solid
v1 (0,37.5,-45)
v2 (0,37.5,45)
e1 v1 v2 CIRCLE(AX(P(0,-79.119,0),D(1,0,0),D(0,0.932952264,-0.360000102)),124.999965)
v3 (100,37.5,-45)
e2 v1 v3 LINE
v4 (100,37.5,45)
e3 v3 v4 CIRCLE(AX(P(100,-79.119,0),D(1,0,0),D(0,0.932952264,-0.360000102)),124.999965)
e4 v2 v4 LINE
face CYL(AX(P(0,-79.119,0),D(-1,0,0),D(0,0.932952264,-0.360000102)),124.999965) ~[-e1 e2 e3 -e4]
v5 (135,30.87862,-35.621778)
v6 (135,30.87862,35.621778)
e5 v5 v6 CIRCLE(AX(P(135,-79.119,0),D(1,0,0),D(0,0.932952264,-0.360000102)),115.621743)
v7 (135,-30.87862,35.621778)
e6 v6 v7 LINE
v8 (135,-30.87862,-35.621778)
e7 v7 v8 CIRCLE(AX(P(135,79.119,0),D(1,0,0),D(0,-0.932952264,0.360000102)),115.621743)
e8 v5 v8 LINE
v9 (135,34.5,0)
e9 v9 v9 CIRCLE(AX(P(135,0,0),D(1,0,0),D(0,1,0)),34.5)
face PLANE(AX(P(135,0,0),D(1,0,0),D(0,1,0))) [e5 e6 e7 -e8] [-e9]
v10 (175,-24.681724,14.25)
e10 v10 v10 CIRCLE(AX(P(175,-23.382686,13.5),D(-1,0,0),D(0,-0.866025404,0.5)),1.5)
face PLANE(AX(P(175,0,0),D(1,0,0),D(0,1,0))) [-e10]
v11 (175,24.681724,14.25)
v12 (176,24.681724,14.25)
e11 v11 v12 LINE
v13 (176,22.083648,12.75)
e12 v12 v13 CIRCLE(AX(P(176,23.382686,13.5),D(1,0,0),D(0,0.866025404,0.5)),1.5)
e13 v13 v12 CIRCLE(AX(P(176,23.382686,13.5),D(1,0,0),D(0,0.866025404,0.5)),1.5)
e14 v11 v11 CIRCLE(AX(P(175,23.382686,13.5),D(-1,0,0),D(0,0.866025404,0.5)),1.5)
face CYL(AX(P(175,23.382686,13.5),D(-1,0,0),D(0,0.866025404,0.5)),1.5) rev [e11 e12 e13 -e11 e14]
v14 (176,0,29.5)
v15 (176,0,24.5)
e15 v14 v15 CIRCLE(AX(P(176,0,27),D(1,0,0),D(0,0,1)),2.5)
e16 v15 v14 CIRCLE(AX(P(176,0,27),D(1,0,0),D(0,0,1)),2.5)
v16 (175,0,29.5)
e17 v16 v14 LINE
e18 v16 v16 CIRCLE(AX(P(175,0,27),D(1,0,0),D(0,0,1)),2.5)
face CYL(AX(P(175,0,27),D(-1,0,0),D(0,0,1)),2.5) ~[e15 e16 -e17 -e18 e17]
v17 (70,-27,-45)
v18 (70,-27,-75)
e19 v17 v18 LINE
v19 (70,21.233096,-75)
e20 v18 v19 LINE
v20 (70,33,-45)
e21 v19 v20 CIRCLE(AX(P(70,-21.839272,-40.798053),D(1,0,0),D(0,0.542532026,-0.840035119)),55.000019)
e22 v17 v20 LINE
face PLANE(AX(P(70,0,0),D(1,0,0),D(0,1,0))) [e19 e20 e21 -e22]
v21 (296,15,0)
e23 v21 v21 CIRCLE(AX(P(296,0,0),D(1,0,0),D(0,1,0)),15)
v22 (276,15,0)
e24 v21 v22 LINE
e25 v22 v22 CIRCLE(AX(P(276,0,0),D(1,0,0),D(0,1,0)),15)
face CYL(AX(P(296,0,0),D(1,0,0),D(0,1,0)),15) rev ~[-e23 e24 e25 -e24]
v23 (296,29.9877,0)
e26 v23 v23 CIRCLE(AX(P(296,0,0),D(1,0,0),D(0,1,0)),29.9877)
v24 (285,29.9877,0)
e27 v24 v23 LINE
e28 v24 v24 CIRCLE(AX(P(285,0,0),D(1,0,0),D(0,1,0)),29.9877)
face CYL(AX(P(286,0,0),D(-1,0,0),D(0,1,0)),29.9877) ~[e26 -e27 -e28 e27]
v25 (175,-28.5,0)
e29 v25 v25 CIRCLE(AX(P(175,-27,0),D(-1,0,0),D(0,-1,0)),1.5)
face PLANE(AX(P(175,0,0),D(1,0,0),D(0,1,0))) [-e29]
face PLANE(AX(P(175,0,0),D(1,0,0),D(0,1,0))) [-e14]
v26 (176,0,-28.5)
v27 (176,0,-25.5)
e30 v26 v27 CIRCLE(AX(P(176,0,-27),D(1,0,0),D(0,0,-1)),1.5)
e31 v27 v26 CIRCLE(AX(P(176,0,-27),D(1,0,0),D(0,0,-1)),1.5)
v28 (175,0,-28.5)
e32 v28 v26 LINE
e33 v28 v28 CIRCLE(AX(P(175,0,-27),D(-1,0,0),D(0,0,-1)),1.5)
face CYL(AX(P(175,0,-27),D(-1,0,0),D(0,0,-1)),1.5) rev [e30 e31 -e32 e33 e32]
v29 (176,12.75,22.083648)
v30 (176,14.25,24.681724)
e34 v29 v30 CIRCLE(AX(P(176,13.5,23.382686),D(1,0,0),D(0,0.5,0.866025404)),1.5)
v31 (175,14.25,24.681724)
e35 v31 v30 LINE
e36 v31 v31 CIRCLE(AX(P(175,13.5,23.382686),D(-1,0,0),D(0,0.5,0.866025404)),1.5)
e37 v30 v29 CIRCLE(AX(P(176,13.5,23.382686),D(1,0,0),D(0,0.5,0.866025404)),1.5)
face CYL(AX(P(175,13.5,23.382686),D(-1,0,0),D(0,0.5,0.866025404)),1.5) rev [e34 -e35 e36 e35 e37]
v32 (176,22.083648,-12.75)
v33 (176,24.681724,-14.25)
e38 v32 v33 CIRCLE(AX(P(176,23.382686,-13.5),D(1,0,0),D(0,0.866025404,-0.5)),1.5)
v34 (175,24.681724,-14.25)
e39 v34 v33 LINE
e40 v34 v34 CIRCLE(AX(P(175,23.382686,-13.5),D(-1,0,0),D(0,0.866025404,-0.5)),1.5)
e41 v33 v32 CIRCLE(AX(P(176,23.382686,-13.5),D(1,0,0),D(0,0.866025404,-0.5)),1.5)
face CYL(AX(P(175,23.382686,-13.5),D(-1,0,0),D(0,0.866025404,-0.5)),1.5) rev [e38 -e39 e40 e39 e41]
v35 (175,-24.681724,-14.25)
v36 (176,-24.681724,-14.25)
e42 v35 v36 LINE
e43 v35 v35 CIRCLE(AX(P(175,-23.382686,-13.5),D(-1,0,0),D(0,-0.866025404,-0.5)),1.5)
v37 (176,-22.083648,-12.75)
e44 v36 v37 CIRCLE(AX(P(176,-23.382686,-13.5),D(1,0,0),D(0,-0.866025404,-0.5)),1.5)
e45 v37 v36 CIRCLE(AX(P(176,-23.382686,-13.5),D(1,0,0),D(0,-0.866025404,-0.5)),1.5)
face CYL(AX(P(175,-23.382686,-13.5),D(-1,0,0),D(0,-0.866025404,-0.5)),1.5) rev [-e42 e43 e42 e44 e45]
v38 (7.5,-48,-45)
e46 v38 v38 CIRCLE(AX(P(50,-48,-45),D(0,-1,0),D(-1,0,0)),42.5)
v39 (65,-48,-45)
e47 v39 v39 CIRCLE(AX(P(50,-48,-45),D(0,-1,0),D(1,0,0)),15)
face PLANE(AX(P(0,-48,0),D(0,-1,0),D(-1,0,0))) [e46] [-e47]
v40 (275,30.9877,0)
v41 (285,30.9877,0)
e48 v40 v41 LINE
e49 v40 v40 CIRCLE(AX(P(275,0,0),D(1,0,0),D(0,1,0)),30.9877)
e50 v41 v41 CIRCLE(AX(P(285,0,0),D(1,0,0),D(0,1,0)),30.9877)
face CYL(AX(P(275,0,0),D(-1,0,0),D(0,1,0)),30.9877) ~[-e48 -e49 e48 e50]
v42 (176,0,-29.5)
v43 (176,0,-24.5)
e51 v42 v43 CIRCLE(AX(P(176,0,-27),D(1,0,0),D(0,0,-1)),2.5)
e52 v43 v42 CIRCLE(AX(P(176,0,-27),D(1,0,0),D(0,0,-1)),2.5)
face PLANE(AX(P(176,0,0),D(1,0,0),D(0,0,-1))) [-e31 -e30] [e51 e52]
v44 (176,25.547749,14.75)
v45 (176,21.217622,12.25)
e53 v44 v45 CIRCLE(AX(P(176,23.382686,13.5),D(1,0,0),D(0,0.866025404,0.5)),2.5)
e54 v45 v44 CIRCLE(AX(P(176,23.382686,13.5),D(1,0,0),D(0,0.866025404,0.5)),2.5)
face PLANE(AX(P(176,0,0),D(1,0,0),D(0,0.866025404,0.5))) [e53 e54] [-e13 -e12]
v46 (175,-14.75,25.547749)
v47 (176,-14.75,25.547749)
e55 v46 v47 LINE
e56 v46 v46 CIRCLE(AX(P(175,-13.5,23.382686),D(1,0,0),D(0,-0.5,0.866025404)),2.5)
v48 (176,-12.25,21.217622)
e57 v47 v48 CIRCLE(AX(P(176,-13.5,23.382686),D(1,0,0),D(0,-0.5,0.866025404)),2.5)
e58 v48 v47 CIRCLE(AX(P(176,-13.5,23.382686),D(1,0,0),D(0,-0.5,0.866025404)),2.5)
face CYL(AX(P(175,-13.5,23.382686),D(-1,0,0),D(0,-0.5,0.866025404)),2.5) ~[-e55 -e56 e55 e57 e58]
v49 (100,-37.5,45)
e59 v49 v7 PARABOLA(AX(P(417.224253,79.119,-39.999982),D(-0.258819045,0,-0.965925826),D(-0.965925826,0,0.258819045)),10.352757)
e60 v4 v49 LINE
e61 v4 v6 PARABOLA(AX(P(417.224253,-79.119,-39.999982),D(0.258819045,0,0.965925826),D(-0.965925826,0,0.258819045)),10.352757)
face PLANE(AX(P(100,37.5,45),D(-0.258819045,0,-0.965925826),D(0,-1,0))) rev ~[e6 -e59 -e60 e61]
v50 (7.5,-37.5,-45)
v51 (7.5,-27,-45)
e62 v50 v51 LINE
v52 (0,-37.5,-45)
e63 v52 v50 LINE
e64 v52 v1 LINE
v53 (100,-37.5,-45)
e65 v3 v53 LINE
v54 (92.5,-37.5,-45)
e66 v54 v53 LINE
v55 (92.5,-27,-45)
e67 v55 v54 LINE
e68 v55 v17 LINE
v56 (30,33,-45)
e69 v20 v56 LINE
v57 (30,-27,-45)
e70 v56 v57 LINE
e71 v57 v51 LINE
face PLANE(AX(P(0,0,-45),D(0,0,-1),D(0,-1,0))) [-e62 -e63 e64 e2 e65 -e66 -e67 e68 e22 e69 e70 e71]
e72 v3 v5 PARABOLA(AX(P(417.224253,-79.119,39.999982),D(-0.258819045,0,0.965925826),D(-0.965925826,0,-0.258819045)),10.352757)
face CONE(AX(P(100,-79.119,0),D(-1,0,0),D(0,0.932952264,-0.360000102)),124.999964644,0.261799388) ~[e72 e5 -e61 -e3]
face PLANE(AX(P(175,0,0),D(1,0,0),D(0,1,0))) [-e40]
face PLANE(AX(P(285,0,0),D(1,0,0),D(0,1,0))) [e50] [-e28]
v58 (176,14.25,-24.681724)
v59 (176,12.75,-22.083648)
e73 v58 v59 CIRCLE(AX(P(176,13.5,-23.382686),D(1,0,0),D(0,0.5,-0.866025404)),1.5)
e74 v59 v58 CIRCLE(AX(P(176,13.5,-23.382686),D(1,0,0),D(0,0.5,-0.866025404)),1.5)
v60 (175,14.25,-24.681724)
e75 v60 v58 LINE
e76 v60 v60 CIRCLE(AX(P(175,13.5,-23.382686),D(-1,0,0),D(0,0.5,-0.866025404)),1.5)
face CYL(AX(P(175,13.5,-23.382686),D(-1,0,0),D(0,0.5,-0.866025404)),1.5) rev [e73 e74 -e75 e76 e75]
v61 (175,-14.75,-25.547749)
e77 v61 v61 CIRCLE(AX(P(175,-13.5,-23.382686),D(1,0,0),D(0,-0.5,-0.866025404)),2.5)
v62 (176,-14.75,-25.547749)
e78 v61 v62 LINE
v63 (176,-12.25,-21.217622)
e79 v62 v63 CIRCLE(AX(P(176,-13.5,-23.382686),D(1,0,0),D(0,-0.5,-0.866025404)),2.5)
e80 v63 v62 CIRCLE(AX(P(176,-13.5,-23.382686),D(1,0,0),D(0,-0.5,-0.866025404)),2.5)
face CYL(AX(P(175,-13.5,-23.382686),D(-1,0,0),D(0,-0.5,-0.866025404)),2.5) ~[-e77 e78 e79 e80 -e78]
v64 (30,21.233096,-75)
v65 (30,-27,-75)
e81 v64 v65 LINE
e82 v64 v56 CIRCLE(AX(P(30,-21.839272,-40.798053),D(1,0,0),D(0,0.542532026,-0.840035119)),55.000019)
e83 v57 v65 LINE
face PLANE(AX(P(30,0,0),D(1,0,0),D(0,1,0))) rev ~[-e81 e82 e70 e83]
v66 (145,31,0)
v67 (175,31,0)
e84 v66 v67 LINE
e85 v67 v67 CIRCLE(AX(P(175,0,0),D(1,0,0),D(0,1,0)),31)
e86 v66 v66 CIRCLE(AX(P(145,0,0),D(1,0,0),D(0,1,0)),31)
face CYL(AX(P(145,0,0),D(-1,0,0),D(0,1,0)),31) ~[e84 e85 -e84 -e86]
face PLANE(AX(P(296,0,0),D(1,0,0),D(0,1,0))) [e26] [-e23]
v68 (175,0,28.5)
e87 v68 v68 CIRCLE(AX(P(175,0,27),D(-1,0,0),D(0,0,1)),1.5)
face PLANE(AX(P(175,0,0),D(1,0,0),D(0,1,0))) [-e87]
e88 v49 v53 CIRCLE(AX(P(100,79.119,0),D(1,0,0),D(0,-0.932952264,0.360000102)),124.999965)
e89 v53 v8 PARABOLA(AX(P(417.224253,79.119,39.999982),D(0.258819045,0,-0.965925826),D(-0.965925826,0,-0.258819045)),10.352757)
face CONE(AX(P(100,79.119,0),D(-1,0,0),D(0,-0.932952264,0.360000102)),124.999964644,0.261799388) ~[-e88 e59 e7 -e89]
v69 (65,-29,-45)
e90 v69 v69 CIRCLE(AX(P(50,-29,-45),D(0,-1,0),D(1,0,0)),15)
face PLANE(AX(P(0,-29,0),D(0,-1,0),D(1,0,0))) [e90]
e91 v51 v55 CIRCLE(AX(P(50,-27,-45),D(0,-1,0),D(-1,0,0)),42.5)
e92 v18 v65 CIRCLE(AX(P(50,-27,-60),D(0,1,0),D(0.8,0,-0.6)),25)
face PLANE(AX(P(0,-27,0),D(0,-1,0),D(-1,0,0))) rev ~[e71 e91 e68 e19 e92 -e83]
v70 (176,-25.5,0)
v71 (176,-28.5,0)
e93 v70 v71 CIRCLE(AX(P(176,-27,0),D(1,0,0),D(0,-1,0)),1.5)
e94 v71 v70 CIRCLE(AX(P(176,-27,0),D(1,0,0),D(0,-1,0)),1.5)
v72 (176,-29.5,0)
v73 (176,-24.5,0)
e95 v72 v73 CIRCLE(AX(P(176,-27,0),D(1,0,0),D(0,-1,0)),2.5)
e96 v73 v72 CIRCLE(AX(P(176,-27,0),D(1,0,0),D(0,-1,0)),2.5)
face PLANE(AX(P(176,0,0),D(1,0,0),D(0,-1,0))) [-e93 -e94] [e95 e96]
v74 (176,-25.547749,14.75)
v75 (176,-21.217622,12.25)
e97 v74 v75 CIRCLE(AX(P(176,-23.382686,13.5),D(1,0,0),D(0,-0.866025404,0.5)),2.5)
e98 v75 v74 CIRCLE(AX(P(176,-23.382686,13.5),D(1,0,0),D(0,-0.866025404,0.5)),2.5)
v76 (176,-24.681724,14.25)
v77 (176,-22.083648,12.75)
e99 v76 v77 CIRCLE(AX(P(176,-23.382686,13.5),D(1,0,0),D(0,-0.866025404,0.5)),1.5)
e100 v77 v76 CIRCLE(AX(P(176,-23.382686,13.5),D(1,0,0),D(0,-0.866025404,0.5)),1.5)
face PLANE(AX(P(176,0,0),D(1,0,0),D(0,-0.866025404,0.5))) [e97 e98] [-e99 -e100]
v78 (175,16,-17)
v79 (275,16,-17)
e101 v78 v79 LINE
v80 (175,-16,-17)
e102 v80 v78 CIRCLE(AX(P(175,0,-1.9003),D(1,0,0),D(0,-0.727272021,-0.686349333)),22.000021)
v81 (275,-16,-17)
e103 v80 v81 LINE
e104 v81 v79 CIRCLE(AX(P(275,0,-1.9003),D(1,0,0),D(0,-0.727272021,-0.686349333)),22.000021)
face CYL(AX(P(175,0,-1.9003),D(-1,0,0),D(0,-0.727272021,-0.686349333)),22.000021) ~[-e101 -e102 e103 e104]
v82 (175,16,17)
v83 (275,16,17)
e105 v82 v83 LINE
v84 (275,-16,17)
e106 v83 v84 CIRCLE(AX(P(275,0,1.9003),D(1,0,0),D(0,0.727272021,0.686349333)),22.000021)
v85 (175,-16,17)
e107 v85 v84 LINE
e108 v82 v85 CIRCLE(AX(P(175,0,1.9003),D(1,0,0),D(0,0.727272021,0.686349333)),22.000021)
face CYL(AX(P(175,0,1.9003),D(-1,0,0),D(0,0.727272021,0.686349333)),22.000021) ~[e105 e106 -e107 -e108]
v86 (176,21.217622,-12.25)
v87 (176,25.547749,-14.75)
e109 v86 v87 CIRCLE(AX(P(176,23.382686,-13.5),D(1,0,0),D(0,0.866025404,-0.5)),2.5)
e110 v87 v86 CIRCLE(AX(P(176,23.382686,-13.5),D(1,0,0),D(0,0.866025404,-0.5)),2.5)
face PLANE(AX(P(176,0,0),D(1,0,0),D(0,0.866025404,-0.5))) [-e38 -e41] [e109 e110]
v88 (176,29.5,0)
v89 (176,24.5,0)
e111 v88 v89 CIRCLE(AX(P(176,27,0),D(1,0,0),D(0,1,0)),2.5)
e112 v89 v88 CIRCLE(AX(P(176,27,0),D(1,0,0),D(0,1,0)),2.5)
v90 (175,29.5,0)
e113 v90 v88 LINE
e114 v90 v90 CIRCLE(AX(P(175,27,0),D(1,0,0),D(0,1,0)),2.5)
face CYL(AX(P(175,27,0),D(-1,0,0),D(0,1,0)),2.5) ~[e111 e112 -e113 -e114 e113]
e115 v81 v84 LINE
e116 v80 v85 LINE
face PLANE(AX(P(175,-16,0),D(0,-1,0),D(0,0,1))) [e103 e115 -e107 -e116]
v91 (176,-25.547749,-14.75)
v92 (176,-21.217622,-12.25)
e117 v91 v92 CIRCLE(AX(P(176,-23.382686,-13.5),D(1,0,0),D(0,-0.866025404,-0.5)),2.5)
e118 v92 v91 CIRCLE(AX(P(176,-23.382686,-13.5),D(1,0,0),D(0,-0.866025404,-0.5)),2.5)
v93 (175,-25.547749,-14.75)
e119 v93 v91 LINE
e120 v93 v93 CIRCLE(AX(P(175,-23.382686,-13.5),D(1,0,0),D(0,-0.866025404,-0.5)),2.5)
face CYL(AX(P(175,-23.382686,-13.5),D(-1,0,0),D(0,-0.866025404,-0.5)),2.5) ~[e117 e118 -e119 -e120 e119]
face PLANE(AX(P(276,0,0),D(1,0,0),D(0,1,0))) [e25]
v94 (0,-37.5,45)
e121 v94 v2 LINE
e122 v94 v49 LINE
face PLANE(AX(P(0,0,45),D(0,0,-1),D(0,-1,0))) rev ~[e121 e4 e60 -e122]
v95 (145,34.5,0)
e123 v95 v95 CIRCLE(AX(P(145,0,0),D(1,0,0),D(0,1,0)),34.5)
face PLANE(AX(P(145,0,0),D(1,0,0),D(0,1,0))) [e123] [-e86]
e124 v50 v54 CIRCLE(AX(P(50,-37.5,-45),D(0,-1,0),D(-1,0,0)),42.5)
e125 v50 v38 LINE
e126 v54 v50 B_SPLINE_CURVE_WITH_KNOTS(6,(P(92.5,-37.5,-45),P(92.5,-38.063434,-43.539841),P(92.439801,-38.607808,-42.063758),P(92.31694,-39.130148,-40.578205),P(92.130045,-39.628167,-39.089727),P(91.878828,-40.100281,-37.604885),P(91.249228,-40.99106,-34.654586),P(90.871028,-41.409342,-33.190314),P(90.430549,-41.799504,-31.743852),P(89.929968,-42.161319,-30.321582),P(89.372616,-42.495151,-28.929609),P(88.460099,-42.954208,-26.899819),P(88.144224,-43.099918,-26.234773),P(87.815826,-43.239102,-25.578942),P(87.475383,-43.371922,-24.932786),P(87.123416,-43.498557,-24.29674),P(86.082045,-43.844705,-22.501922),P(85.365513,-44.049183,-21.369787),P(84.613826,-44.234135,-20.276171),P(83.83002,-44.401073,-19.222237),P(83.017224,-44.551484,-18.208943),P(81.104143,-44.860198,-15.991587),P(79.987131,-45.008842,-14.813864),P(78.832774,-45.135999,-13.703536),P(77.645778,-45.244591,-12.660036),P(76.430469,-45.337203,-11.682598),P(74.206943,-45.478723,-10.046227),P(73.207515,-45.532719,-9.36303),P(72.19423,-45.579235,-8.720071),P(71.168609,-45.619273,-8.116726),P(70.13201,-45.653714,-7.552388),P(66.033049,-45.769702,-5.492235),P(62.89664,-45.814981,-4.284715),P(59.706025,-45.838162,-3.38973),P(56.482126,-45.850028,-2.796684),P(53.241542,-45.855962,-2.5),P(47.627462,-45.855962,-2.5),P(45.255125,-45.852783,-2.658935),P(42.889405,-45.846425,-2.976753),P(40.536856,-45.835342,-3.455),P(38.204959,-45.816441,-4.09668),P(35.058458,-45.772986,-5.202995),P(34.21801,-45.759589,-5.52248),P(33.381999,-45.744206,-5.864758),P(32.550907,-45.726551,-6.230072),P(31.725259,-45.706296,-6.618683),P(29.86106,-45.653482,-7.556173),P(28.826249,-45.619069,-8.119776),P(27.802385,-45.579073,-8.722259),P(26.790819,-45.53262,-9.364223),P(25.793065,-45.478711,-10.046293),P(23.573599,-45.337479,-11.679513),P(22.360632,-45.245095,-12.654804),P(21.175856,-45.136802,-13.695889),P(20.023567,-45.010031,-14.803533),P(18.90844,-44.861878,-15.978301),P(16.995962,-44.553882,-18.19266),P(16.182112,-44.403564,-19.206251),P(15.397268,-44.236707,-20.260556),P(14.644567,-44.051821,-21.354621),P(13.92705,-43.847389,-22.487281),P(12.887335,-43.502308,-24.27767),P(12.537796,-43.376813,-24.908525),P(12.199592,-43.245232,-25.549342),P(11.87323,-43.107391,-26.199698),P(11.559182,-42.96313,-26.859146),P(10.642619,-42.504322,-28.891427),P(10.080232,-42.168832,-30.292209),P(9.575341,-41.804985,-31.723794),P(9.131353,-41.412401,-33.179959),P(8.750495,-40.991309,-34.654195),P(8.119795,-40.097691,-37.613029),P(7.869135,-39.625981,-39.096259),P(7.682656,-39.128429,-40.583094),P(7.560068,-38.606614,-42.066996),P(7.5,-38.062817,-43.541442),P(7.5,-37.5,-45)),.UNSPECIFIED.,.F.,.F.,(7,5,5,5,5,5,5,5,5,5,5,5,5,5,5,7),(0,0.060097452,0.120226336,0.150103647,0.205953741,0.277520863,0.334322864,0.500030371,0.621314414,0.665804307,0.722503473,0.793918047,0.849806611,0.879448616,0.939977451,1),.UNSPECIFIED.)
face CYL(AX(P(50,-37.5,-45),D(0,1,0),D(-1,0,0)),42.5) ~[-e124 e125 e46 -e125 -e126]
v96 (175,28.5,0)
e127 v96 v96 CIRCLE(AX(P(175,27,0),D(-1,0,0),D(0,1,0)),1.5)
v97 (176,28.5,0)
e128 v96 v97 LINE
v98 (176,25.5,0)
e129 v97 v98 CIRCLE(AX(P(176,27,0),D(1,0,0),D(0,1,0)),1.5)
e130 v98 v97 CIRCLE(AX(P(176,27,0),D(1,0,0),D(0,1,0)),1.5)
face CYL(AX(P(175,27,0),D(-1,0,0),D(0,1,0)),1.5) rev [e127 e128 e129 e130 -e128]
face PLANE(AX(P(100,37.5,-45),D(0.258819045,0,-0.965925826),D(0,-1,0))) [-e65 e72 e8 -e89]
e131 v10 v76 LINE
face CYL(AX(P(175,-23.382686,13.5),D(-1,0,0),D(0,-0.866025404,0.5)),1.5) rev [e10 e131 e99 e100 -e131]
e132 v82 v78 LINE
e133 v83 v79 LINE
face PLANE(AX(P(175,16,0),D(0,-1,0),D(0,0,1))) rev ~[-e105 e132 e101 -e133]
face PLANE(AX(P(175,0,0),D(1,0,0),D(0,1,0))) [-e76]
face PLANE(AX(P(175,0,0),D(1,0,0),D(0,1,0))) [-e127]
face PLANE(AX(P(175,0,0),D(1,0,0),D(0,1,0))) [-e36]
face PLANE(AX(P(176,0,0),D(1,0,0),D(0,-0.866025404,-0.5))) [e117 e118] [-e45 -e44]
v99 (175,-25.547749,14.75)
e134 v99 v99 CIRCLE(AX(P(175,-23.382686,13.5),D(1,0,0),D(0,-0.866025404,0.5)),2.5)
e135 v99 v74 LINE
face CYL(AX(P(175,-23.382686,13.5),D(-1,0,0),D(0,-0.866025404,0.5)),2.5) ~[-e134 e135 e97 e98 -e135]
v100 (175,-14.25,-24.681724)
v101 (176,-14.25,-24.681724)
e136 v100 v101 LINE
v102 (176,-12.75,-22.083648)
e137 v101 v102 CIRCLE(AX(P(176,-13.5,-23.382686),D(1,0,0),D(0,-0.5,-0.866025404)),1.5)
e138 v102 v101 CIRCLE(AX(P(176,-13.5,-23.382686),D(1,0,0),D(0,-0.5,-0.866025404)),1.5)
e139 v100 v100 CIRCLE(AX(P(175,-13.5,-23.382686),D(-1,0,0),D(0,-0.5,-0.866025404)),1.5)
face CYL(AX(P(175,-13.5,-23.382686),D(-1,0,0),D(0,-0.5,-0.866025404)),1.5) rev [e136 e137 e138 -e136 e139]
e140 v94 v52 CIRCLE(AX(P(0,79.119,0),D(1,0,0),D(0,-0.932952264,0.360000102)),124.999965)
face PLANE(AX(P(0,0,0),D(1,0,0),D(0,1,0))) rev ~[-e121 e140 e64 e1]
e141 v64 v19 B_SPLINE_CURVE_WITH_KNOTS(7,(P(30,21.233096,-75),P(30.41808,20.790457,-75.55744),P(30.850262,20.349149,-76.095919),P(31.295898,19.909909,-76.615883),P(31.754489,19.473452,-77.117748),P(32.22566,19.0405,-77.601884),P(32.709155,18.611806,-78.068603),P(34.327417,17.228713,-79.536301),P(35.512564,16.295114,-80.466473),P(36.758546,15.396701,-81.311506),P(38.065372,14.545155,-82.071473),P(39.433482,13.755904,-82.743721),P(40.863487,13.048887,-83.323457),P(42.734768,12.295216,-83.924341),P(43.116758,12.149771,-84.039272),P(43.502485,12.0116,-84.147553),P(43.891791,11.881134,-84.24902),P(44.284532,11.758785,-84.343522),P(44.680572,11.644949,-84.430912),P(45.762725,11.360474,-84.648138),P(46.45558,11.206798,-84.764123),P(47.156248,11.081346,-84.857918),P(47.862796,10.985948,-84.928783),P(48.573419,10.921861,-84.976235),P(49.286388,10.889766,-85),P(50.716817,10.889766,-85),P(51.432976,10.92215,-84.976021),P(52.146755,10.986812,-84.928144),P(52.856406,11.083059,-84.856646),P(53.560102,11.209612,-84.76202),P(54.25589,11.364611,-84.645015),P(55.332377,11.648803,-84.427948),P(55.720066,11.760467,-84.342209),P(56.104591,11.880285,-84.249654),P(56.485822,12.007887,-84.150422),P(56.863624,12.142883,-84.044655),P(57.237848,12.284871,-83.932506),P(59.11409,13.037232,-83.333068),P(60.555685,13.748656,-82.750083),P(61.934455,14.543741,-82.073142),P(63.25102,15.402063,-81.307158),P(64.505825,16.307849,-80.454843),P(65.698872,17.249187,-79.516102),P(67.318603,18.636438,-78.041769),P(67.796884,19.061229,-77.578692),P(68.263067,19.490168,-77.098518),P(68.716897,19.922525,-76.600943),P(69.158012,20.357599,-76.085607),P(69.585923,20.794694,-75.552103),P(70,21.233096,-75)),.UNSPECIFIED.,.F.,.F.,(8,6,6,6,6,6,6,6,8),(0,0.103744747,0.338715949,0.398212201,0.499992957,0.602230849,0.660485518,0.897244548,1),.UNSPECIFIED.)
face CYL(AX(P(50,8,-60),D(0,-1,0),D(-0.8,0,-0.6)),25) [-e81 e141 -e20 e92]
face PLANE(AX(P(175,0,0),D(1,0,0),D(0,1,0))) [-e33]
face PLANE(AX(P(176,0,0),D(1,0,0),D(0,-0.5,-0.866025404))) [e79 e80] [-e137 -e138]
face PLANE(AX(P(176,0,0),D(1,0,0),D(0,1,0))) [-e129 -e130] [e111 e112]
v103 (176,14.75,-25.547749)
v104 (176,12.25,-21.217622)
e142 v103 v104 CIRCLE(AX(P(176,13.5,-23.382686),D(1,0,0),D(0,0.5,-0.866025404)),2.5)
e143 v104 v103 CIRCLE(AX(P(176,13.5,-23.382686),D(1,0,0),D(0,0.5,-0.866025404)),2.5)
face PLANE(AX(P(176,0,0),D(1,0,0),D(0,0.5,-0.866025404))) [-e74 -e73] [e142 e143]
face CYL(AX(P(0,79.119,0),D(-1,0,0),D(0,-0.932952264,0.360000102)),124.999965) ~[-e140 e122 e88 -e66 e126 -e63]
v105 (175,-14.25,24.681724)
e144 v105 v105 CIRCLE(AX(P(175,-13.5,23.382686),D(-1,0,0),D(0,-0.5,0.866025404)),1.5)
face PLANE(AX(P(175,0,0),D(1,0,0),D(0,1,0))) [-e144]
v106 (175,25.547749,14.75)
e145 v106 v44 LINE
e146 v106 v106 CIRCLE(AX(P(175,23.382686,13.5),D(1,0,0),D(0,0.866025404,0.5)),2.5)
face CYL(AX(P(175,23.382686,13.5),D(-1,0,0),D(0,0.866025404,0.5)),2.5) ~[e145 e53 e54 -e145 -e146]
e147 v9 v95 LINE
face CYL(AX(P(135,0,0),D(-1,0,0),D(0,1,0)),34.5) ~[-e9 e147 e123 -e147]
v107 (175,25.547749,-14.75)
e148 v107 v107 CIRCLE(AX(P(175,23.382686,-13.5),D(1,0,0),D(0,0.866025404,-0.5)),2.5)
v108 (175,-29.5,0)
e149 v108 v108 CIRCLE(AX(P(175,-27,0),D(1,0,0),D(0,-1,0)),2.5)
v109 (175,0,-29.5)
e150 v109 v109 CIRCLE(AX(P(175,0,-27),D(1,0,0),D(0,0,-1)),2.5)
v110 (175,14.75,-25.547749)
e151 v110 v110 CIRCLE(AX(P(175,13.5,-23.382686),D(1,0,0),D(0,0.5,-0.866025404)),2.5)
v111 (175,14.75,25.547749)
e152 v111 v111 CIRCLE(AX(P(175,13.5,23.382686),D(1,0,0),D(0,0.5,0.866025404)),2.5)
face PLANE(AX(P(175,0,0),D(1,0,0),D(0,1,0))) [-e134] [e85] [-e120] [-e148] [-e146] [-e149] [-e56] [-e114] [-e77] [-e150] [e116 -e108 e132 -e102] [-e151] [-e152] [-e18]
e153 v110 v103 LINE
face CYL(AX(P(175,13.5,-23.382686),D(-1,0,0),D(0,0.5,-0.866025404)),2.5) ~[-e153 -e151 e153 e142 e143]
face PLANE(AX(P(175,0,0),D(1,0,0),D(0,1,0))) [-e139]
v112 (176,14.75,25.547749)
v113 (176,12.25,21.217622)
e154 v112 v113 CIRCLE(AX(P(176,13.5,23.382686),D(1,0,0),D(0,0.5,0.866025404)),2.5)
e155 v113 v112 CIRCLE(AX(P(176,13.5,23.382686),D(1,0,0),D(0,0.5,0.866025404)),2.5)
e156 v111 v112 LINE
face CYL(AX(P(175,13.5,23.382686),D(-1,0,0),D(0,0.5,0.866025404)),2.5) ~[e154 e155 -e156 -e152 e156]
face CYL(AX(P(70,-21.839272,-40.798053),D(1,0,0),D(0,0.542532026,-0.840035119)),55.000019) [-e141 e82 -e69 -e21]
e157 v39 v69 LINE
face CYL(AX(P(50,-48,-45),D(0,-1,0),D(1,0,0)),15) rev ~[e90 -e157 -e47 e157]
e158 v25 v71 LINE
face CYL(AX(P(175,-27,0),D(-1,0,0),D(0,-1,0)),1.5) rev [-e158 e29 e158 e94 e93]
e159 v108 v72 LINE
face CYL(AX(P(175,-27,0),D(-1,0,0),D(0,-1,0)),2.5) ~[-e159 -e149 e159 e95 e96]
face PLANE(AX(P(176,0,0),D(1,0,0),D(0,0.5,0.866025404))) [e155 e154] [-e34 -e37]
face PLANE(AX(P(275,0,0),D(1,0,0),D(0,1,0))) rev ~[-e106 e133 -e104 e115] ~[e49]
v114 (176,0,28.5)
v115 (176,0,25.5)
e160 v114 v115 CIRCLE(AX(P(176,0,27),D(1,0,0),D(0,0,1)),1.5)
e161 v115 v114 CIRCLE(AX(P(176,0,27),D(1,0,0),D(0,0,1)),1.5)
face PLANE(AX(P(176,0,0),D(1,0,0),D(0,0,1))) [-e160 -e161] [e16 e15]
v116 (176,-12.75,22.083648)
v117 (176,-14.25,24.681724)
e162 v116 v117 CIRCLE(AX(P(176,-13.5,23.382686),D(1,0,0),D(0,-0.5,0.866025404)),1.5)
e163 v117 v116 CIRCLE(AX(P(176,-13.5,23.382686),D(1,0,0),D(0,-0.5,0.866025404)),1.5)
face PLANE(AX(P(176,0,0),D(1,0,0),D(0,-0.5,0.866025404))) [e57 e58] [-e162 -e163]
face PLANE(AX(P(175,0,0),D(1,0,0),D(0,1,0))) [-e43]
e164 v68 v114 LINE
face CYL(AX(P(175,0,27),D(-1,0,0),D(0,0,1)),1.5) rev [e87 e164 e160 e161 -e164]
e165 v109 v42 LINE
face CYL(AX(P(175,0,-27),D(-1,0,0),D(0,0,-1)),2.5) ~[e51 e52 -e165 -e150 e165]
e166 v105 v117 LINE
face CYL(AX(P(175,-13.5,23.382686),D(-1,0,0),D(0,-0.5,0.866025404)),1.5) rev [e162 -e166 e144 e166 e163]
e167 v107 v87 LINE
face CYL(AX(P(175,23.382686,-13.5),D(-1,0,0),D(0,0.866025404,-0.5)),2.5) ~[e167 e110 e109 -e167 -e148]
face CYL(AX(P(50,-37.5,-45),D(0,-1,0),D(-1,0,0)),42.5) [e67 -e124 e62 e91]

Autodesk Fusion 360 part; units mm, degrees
sketch "Sketch1" plane through (0, 0, 0) normal (1, 0, 0) x (0, 1, 0)
  line L0 (0, 0) -> (0, 45)
  line L1 (0, 0) -> (0, -45)
  line L2 (0, 45) -> (37.5, 45)
  line L3 (0, 45) -> (-37.5, 45)
  line L4 (0, -45) -> (37.5, -45)
  line L5 (0, -45) -> (-37.5, -45)
  arc A0 (37.5, -45) -> (37.5, 45) centre (-79.119, 0) ccw
  arc A1 (-37.5, 45) -> (-37.5, -45) centre (79.119, 0) ccw
  dimension "d1" = 45
  dimension "d2" = 45
  dimension "d3" = 37.5
  dimension "d4" = 37.5
  dimension "d6" = 125
extrude "Extrude1" add sketch "Sketch1" along normal blind 100
sketch "Sketch2" plane through (0, 0, 0) normal (1, 0, 0) x (0, 1, 0)
extrude "Extrude2" add 1 faces at (100, 14.2806, 15.2642) along direction (1, 0, 0) blind 35 draft -15
sketch "Sketch3" plane through (0, 0, 0) normal (-1, 0, 0) x (0, -1, 0)
  line L0 (37.5, 45) -> (-37.5, 45)
  arc A0 (-37.5, 45) -> (-37.5, -45) centre (79.119, 0) ccw
  line L1 (-37.5, -45) -> (37.5, -45)
  arc A1 (37.5, -45) -> (37.5, 45) centre (-79.119, 0) ccw
sketch "Sketch4" plane through (135, 0, 0) normal (1, 0, 0) x (0, 1, 0)
  line L0 (30.8786, 35.6218) -> (-30.8786, 35.6218)
  arc A0 (-30.8786, 35.6218) -> (-30.8786, -35.6218) centre (79.119, 0) ccw
  line L1 (-30.8786, -35.6218) -> (30.8786, -35.6218)
  arc A1 (30.8786, -35.6218) -> (30.8786, 35.6218) centre (-79.119, 0) ccw
  circle A2 centre (0, 0) radius 34.5
  dimension "d11" = 69
extrude "Extrude3" add sketch "Sketch4" along normal blind 10 contours A2
sketch "Sketch5" plane through (145, 0, 0) normal (1, 0, 0) x (0, 1, 0)
  circle A0 centre (0, 0) radius 34.5
  circle A1 centre (0, 0) radius 31
  dimension "d14" = 62
extrude "Extrude4" add sketch "Sketch5" along normal blind 30 contours A1
sketch "Sketch6" plane through (175, 0, 0) normal (1, 0, 0) x (0, 1, 0)
  circle A0 centre (0, 0) radius 31
  line L0 (0, 0) -> (27, 0)
  circle A1 centre (27, 0) radius 2.5
  circle A2 centre (27, 0) radius 1.5
  dimension "d17" = 27
  dimension "d18" = 5
  dimension "d19" = -1
extrude "Extrude5" add sketch "Sketch6" along normal blind 1 contours A1
sketch "Sketch7" plane through (175, 0, 0) normal (1, 0, 0) x (0, 1, 0)
  circle A0 centre (0, 0) radius 31
  circle A1 centre (27, 0) radius 2.5
sketch "Sketch8" plane through (175, 0, 0) normal (1, 0, 0) x (0, 1, 0)
sketch "Sketch9" plane through (175, 0, 0) normal (1, 0, 0) x (0, 1, 0)
pattern_circular "C-Pattern1" count 12 over 360 about axis through (1.75, 0, 0) along (1, 0, 0) of "Extrude5"
sketch "Sketch10" plane through (175, 0, 0) normal (1, 0, 0) x (0, 1, 0)
  line L0 (0, 0) -> (16, 0)
  line L1 (16, 0) -> (16, 17)
  line L2 (16, 0) -> (16, -17)
  line L3 (0, 0) -> (0, -10)
  line L4 (-16, 0) -> (-16, 17)
  line L5 (-16, 0) -> (-16, -17)
  arc A0 (16, 17) -> (-16, 17) centre (0, 1.9003) ccw
  arc A1 (-16, -17) -> (16, -17) centre (0, -1.9003) ccw
  dimension "d24" = 16
  dimension "d25" = 17
  dimension "d26" = 17
  dimension "d27" = 22
  dimension "d28" = 22
extrude "Extrude6" add sketch "Sketch10" along normal blind 100
sketch "Sketch11" plane through (275, 0, 0) normal (1, 0, 0) x (0, 1, 0)
  line L0 (-16, 17) -> (-16, -17)
  arc A0 (-16, -17) -> (16, -17) centre (0, -1.9003) ccw
  line L1 (16, -17) -> (16, 17)
  arc A1 (16, 17) -> (-16, 17) centre (0, 1.9003) ccw
  circle A2 centre (0, 0) radius 30.9877
extrude "Extrude7" add sketch "Sketch11" along normal blind 10 contours L0 A0 L1 A1 | A2
sketch "Sketch12" plane through (285, 0, 0) normal (1, 0, 0) x (0, 1, 0)
  circle A0 centre (0, 0) radius 30.9877
  circle A1 centre (0, 0) radius 29.9877
  dimension "d33" = -1
extrude "Extrude8" add sketch "Sketch12" along normal blind 1 contours A1
extrude "Extrude9" add 1 faces at (286, 6.5805, -3.169) along direction (1, 0, 0) blind 10
sketch "Sketch13" plane through (0, 0, 0) normal (0, 1, 0) x (1, 0, 0)
ref_plane "WorkPlane1" through (0, -37.5, 45) normal (0, -1, 0) x (1, 0, 0)
sketch "Sketch14" plane through (0, -37.5, 0) normal (0, -1, 0) x (-1, 0, 0)
  circle A0 centre (-50, 45) radius 42.5
  dimension "d38" = 85
extrude "Extrude10" add sketch "Sketch14" along normal mid plane 21
sketch "Sketch15" plane through (0, -27, 0) normal (0, 1, 0) x (-1, 0, 0)
  line L0 (-7.5, -45) -> (-92.5, -45)
  arc A0 (-92.5, -45) -> (-7.5, -45) centre (-50, -45) ccw
  line L1 (-50, -45) -> (-50, -75)
  line L2 (-70, -45) -> (-70, -75)
  line L3 (-30, -45) -> (-30, -75)
  arc A1 (-70, -75) -> (-30, -75) centre (-50, -60) ccw
  line L4 (-70, -45) -> (-50, -45)
  line L5 (-50, -45) -> (-30, -45)
  line L6 (-70, -75) -> (-50, -75)
  line L7 (-30, -75) -> (-50, -75)
  dimension "d41" = 30
  dimension "d42" = 20
  dimension "d43" = -20
  dimension "d44" = 25
extrude "Extrude11" add sketch "Sketch15" along normal blind 35 contours L0 L1 L3 L5 L7 | L0 L1 L2 L4 L6 | A1 L6 L7
sketch "Sketch16" plane through (70, 0, 0) normal (1, 0, 0) x (0, 1, 0)
  line L0 (-27, -45) -> (-27, -75)
  line L1 (-27, -75) -> (8, -75)
  line L2 (8, -75) -> (8, -45)
  line L3 (8, -45) -> (-27, -45)
  line L4 (8, -45) -> (33, -45)
  line L5 (8, -45) -> (8, -87)
  arc A0 (8, -87) -> (33, -45) centre (-21.8393, -40.7981) ccw
  dimension "d47" = 25
  dimension "d48" = 42
  dimension "d49" = 55
extrude "Extrude12" add sketch "Sketch16" against normal blind 40 contours L2 L4 L5 A0
sketch "Sketch17" plane through (0, 8, 0) normal (0, -1, 0) x (1, 0, 0)
  arc A0 (30, -75) -> (70, -75) centre (50, -60) ccw
  line L0 (30, -75) -> (30, -87)
  line L1 (30, -87) -> (70, -87)
  line L2 (70, -87) -> (70, -75)
extrude "Extrude13" cut sketch "Sketch17" against normal blind 40
sketch "Sketch18" plane through (296, 0, 0) normal (1, 0, 0) x (0, 1, 0)
  circle A0 centre (0, 0) radius 29.9877
  circle A1 centre (0, 0) radius 15
  dimension "d54" = 30
extrude "Extrude14" cut sketch "Sketch18" against normal blind 20 contours A1
sketch "Sketch19" plane through (0, -48, 0) normal (0, -1, 0) x (1, 0, 0)
  circle A0 centre (50, -45) radius 42.5
  circle A1 centre (50, -45) radius 15
  dimension "d57" = 30
extrude "Extrude15" cut sketch "Sketch19" against normal blind 19 contours A1
sketch "Sketch20" plane through (0, -48, 0) normal (0, -1, 0) x (1, 0, 0)
  circle A0 centre (50, -45) radius 15
  circle A1 centre (50, -45) radius 42.5
equation "d39 = ( 21 / 2 ) * 1 mm"
